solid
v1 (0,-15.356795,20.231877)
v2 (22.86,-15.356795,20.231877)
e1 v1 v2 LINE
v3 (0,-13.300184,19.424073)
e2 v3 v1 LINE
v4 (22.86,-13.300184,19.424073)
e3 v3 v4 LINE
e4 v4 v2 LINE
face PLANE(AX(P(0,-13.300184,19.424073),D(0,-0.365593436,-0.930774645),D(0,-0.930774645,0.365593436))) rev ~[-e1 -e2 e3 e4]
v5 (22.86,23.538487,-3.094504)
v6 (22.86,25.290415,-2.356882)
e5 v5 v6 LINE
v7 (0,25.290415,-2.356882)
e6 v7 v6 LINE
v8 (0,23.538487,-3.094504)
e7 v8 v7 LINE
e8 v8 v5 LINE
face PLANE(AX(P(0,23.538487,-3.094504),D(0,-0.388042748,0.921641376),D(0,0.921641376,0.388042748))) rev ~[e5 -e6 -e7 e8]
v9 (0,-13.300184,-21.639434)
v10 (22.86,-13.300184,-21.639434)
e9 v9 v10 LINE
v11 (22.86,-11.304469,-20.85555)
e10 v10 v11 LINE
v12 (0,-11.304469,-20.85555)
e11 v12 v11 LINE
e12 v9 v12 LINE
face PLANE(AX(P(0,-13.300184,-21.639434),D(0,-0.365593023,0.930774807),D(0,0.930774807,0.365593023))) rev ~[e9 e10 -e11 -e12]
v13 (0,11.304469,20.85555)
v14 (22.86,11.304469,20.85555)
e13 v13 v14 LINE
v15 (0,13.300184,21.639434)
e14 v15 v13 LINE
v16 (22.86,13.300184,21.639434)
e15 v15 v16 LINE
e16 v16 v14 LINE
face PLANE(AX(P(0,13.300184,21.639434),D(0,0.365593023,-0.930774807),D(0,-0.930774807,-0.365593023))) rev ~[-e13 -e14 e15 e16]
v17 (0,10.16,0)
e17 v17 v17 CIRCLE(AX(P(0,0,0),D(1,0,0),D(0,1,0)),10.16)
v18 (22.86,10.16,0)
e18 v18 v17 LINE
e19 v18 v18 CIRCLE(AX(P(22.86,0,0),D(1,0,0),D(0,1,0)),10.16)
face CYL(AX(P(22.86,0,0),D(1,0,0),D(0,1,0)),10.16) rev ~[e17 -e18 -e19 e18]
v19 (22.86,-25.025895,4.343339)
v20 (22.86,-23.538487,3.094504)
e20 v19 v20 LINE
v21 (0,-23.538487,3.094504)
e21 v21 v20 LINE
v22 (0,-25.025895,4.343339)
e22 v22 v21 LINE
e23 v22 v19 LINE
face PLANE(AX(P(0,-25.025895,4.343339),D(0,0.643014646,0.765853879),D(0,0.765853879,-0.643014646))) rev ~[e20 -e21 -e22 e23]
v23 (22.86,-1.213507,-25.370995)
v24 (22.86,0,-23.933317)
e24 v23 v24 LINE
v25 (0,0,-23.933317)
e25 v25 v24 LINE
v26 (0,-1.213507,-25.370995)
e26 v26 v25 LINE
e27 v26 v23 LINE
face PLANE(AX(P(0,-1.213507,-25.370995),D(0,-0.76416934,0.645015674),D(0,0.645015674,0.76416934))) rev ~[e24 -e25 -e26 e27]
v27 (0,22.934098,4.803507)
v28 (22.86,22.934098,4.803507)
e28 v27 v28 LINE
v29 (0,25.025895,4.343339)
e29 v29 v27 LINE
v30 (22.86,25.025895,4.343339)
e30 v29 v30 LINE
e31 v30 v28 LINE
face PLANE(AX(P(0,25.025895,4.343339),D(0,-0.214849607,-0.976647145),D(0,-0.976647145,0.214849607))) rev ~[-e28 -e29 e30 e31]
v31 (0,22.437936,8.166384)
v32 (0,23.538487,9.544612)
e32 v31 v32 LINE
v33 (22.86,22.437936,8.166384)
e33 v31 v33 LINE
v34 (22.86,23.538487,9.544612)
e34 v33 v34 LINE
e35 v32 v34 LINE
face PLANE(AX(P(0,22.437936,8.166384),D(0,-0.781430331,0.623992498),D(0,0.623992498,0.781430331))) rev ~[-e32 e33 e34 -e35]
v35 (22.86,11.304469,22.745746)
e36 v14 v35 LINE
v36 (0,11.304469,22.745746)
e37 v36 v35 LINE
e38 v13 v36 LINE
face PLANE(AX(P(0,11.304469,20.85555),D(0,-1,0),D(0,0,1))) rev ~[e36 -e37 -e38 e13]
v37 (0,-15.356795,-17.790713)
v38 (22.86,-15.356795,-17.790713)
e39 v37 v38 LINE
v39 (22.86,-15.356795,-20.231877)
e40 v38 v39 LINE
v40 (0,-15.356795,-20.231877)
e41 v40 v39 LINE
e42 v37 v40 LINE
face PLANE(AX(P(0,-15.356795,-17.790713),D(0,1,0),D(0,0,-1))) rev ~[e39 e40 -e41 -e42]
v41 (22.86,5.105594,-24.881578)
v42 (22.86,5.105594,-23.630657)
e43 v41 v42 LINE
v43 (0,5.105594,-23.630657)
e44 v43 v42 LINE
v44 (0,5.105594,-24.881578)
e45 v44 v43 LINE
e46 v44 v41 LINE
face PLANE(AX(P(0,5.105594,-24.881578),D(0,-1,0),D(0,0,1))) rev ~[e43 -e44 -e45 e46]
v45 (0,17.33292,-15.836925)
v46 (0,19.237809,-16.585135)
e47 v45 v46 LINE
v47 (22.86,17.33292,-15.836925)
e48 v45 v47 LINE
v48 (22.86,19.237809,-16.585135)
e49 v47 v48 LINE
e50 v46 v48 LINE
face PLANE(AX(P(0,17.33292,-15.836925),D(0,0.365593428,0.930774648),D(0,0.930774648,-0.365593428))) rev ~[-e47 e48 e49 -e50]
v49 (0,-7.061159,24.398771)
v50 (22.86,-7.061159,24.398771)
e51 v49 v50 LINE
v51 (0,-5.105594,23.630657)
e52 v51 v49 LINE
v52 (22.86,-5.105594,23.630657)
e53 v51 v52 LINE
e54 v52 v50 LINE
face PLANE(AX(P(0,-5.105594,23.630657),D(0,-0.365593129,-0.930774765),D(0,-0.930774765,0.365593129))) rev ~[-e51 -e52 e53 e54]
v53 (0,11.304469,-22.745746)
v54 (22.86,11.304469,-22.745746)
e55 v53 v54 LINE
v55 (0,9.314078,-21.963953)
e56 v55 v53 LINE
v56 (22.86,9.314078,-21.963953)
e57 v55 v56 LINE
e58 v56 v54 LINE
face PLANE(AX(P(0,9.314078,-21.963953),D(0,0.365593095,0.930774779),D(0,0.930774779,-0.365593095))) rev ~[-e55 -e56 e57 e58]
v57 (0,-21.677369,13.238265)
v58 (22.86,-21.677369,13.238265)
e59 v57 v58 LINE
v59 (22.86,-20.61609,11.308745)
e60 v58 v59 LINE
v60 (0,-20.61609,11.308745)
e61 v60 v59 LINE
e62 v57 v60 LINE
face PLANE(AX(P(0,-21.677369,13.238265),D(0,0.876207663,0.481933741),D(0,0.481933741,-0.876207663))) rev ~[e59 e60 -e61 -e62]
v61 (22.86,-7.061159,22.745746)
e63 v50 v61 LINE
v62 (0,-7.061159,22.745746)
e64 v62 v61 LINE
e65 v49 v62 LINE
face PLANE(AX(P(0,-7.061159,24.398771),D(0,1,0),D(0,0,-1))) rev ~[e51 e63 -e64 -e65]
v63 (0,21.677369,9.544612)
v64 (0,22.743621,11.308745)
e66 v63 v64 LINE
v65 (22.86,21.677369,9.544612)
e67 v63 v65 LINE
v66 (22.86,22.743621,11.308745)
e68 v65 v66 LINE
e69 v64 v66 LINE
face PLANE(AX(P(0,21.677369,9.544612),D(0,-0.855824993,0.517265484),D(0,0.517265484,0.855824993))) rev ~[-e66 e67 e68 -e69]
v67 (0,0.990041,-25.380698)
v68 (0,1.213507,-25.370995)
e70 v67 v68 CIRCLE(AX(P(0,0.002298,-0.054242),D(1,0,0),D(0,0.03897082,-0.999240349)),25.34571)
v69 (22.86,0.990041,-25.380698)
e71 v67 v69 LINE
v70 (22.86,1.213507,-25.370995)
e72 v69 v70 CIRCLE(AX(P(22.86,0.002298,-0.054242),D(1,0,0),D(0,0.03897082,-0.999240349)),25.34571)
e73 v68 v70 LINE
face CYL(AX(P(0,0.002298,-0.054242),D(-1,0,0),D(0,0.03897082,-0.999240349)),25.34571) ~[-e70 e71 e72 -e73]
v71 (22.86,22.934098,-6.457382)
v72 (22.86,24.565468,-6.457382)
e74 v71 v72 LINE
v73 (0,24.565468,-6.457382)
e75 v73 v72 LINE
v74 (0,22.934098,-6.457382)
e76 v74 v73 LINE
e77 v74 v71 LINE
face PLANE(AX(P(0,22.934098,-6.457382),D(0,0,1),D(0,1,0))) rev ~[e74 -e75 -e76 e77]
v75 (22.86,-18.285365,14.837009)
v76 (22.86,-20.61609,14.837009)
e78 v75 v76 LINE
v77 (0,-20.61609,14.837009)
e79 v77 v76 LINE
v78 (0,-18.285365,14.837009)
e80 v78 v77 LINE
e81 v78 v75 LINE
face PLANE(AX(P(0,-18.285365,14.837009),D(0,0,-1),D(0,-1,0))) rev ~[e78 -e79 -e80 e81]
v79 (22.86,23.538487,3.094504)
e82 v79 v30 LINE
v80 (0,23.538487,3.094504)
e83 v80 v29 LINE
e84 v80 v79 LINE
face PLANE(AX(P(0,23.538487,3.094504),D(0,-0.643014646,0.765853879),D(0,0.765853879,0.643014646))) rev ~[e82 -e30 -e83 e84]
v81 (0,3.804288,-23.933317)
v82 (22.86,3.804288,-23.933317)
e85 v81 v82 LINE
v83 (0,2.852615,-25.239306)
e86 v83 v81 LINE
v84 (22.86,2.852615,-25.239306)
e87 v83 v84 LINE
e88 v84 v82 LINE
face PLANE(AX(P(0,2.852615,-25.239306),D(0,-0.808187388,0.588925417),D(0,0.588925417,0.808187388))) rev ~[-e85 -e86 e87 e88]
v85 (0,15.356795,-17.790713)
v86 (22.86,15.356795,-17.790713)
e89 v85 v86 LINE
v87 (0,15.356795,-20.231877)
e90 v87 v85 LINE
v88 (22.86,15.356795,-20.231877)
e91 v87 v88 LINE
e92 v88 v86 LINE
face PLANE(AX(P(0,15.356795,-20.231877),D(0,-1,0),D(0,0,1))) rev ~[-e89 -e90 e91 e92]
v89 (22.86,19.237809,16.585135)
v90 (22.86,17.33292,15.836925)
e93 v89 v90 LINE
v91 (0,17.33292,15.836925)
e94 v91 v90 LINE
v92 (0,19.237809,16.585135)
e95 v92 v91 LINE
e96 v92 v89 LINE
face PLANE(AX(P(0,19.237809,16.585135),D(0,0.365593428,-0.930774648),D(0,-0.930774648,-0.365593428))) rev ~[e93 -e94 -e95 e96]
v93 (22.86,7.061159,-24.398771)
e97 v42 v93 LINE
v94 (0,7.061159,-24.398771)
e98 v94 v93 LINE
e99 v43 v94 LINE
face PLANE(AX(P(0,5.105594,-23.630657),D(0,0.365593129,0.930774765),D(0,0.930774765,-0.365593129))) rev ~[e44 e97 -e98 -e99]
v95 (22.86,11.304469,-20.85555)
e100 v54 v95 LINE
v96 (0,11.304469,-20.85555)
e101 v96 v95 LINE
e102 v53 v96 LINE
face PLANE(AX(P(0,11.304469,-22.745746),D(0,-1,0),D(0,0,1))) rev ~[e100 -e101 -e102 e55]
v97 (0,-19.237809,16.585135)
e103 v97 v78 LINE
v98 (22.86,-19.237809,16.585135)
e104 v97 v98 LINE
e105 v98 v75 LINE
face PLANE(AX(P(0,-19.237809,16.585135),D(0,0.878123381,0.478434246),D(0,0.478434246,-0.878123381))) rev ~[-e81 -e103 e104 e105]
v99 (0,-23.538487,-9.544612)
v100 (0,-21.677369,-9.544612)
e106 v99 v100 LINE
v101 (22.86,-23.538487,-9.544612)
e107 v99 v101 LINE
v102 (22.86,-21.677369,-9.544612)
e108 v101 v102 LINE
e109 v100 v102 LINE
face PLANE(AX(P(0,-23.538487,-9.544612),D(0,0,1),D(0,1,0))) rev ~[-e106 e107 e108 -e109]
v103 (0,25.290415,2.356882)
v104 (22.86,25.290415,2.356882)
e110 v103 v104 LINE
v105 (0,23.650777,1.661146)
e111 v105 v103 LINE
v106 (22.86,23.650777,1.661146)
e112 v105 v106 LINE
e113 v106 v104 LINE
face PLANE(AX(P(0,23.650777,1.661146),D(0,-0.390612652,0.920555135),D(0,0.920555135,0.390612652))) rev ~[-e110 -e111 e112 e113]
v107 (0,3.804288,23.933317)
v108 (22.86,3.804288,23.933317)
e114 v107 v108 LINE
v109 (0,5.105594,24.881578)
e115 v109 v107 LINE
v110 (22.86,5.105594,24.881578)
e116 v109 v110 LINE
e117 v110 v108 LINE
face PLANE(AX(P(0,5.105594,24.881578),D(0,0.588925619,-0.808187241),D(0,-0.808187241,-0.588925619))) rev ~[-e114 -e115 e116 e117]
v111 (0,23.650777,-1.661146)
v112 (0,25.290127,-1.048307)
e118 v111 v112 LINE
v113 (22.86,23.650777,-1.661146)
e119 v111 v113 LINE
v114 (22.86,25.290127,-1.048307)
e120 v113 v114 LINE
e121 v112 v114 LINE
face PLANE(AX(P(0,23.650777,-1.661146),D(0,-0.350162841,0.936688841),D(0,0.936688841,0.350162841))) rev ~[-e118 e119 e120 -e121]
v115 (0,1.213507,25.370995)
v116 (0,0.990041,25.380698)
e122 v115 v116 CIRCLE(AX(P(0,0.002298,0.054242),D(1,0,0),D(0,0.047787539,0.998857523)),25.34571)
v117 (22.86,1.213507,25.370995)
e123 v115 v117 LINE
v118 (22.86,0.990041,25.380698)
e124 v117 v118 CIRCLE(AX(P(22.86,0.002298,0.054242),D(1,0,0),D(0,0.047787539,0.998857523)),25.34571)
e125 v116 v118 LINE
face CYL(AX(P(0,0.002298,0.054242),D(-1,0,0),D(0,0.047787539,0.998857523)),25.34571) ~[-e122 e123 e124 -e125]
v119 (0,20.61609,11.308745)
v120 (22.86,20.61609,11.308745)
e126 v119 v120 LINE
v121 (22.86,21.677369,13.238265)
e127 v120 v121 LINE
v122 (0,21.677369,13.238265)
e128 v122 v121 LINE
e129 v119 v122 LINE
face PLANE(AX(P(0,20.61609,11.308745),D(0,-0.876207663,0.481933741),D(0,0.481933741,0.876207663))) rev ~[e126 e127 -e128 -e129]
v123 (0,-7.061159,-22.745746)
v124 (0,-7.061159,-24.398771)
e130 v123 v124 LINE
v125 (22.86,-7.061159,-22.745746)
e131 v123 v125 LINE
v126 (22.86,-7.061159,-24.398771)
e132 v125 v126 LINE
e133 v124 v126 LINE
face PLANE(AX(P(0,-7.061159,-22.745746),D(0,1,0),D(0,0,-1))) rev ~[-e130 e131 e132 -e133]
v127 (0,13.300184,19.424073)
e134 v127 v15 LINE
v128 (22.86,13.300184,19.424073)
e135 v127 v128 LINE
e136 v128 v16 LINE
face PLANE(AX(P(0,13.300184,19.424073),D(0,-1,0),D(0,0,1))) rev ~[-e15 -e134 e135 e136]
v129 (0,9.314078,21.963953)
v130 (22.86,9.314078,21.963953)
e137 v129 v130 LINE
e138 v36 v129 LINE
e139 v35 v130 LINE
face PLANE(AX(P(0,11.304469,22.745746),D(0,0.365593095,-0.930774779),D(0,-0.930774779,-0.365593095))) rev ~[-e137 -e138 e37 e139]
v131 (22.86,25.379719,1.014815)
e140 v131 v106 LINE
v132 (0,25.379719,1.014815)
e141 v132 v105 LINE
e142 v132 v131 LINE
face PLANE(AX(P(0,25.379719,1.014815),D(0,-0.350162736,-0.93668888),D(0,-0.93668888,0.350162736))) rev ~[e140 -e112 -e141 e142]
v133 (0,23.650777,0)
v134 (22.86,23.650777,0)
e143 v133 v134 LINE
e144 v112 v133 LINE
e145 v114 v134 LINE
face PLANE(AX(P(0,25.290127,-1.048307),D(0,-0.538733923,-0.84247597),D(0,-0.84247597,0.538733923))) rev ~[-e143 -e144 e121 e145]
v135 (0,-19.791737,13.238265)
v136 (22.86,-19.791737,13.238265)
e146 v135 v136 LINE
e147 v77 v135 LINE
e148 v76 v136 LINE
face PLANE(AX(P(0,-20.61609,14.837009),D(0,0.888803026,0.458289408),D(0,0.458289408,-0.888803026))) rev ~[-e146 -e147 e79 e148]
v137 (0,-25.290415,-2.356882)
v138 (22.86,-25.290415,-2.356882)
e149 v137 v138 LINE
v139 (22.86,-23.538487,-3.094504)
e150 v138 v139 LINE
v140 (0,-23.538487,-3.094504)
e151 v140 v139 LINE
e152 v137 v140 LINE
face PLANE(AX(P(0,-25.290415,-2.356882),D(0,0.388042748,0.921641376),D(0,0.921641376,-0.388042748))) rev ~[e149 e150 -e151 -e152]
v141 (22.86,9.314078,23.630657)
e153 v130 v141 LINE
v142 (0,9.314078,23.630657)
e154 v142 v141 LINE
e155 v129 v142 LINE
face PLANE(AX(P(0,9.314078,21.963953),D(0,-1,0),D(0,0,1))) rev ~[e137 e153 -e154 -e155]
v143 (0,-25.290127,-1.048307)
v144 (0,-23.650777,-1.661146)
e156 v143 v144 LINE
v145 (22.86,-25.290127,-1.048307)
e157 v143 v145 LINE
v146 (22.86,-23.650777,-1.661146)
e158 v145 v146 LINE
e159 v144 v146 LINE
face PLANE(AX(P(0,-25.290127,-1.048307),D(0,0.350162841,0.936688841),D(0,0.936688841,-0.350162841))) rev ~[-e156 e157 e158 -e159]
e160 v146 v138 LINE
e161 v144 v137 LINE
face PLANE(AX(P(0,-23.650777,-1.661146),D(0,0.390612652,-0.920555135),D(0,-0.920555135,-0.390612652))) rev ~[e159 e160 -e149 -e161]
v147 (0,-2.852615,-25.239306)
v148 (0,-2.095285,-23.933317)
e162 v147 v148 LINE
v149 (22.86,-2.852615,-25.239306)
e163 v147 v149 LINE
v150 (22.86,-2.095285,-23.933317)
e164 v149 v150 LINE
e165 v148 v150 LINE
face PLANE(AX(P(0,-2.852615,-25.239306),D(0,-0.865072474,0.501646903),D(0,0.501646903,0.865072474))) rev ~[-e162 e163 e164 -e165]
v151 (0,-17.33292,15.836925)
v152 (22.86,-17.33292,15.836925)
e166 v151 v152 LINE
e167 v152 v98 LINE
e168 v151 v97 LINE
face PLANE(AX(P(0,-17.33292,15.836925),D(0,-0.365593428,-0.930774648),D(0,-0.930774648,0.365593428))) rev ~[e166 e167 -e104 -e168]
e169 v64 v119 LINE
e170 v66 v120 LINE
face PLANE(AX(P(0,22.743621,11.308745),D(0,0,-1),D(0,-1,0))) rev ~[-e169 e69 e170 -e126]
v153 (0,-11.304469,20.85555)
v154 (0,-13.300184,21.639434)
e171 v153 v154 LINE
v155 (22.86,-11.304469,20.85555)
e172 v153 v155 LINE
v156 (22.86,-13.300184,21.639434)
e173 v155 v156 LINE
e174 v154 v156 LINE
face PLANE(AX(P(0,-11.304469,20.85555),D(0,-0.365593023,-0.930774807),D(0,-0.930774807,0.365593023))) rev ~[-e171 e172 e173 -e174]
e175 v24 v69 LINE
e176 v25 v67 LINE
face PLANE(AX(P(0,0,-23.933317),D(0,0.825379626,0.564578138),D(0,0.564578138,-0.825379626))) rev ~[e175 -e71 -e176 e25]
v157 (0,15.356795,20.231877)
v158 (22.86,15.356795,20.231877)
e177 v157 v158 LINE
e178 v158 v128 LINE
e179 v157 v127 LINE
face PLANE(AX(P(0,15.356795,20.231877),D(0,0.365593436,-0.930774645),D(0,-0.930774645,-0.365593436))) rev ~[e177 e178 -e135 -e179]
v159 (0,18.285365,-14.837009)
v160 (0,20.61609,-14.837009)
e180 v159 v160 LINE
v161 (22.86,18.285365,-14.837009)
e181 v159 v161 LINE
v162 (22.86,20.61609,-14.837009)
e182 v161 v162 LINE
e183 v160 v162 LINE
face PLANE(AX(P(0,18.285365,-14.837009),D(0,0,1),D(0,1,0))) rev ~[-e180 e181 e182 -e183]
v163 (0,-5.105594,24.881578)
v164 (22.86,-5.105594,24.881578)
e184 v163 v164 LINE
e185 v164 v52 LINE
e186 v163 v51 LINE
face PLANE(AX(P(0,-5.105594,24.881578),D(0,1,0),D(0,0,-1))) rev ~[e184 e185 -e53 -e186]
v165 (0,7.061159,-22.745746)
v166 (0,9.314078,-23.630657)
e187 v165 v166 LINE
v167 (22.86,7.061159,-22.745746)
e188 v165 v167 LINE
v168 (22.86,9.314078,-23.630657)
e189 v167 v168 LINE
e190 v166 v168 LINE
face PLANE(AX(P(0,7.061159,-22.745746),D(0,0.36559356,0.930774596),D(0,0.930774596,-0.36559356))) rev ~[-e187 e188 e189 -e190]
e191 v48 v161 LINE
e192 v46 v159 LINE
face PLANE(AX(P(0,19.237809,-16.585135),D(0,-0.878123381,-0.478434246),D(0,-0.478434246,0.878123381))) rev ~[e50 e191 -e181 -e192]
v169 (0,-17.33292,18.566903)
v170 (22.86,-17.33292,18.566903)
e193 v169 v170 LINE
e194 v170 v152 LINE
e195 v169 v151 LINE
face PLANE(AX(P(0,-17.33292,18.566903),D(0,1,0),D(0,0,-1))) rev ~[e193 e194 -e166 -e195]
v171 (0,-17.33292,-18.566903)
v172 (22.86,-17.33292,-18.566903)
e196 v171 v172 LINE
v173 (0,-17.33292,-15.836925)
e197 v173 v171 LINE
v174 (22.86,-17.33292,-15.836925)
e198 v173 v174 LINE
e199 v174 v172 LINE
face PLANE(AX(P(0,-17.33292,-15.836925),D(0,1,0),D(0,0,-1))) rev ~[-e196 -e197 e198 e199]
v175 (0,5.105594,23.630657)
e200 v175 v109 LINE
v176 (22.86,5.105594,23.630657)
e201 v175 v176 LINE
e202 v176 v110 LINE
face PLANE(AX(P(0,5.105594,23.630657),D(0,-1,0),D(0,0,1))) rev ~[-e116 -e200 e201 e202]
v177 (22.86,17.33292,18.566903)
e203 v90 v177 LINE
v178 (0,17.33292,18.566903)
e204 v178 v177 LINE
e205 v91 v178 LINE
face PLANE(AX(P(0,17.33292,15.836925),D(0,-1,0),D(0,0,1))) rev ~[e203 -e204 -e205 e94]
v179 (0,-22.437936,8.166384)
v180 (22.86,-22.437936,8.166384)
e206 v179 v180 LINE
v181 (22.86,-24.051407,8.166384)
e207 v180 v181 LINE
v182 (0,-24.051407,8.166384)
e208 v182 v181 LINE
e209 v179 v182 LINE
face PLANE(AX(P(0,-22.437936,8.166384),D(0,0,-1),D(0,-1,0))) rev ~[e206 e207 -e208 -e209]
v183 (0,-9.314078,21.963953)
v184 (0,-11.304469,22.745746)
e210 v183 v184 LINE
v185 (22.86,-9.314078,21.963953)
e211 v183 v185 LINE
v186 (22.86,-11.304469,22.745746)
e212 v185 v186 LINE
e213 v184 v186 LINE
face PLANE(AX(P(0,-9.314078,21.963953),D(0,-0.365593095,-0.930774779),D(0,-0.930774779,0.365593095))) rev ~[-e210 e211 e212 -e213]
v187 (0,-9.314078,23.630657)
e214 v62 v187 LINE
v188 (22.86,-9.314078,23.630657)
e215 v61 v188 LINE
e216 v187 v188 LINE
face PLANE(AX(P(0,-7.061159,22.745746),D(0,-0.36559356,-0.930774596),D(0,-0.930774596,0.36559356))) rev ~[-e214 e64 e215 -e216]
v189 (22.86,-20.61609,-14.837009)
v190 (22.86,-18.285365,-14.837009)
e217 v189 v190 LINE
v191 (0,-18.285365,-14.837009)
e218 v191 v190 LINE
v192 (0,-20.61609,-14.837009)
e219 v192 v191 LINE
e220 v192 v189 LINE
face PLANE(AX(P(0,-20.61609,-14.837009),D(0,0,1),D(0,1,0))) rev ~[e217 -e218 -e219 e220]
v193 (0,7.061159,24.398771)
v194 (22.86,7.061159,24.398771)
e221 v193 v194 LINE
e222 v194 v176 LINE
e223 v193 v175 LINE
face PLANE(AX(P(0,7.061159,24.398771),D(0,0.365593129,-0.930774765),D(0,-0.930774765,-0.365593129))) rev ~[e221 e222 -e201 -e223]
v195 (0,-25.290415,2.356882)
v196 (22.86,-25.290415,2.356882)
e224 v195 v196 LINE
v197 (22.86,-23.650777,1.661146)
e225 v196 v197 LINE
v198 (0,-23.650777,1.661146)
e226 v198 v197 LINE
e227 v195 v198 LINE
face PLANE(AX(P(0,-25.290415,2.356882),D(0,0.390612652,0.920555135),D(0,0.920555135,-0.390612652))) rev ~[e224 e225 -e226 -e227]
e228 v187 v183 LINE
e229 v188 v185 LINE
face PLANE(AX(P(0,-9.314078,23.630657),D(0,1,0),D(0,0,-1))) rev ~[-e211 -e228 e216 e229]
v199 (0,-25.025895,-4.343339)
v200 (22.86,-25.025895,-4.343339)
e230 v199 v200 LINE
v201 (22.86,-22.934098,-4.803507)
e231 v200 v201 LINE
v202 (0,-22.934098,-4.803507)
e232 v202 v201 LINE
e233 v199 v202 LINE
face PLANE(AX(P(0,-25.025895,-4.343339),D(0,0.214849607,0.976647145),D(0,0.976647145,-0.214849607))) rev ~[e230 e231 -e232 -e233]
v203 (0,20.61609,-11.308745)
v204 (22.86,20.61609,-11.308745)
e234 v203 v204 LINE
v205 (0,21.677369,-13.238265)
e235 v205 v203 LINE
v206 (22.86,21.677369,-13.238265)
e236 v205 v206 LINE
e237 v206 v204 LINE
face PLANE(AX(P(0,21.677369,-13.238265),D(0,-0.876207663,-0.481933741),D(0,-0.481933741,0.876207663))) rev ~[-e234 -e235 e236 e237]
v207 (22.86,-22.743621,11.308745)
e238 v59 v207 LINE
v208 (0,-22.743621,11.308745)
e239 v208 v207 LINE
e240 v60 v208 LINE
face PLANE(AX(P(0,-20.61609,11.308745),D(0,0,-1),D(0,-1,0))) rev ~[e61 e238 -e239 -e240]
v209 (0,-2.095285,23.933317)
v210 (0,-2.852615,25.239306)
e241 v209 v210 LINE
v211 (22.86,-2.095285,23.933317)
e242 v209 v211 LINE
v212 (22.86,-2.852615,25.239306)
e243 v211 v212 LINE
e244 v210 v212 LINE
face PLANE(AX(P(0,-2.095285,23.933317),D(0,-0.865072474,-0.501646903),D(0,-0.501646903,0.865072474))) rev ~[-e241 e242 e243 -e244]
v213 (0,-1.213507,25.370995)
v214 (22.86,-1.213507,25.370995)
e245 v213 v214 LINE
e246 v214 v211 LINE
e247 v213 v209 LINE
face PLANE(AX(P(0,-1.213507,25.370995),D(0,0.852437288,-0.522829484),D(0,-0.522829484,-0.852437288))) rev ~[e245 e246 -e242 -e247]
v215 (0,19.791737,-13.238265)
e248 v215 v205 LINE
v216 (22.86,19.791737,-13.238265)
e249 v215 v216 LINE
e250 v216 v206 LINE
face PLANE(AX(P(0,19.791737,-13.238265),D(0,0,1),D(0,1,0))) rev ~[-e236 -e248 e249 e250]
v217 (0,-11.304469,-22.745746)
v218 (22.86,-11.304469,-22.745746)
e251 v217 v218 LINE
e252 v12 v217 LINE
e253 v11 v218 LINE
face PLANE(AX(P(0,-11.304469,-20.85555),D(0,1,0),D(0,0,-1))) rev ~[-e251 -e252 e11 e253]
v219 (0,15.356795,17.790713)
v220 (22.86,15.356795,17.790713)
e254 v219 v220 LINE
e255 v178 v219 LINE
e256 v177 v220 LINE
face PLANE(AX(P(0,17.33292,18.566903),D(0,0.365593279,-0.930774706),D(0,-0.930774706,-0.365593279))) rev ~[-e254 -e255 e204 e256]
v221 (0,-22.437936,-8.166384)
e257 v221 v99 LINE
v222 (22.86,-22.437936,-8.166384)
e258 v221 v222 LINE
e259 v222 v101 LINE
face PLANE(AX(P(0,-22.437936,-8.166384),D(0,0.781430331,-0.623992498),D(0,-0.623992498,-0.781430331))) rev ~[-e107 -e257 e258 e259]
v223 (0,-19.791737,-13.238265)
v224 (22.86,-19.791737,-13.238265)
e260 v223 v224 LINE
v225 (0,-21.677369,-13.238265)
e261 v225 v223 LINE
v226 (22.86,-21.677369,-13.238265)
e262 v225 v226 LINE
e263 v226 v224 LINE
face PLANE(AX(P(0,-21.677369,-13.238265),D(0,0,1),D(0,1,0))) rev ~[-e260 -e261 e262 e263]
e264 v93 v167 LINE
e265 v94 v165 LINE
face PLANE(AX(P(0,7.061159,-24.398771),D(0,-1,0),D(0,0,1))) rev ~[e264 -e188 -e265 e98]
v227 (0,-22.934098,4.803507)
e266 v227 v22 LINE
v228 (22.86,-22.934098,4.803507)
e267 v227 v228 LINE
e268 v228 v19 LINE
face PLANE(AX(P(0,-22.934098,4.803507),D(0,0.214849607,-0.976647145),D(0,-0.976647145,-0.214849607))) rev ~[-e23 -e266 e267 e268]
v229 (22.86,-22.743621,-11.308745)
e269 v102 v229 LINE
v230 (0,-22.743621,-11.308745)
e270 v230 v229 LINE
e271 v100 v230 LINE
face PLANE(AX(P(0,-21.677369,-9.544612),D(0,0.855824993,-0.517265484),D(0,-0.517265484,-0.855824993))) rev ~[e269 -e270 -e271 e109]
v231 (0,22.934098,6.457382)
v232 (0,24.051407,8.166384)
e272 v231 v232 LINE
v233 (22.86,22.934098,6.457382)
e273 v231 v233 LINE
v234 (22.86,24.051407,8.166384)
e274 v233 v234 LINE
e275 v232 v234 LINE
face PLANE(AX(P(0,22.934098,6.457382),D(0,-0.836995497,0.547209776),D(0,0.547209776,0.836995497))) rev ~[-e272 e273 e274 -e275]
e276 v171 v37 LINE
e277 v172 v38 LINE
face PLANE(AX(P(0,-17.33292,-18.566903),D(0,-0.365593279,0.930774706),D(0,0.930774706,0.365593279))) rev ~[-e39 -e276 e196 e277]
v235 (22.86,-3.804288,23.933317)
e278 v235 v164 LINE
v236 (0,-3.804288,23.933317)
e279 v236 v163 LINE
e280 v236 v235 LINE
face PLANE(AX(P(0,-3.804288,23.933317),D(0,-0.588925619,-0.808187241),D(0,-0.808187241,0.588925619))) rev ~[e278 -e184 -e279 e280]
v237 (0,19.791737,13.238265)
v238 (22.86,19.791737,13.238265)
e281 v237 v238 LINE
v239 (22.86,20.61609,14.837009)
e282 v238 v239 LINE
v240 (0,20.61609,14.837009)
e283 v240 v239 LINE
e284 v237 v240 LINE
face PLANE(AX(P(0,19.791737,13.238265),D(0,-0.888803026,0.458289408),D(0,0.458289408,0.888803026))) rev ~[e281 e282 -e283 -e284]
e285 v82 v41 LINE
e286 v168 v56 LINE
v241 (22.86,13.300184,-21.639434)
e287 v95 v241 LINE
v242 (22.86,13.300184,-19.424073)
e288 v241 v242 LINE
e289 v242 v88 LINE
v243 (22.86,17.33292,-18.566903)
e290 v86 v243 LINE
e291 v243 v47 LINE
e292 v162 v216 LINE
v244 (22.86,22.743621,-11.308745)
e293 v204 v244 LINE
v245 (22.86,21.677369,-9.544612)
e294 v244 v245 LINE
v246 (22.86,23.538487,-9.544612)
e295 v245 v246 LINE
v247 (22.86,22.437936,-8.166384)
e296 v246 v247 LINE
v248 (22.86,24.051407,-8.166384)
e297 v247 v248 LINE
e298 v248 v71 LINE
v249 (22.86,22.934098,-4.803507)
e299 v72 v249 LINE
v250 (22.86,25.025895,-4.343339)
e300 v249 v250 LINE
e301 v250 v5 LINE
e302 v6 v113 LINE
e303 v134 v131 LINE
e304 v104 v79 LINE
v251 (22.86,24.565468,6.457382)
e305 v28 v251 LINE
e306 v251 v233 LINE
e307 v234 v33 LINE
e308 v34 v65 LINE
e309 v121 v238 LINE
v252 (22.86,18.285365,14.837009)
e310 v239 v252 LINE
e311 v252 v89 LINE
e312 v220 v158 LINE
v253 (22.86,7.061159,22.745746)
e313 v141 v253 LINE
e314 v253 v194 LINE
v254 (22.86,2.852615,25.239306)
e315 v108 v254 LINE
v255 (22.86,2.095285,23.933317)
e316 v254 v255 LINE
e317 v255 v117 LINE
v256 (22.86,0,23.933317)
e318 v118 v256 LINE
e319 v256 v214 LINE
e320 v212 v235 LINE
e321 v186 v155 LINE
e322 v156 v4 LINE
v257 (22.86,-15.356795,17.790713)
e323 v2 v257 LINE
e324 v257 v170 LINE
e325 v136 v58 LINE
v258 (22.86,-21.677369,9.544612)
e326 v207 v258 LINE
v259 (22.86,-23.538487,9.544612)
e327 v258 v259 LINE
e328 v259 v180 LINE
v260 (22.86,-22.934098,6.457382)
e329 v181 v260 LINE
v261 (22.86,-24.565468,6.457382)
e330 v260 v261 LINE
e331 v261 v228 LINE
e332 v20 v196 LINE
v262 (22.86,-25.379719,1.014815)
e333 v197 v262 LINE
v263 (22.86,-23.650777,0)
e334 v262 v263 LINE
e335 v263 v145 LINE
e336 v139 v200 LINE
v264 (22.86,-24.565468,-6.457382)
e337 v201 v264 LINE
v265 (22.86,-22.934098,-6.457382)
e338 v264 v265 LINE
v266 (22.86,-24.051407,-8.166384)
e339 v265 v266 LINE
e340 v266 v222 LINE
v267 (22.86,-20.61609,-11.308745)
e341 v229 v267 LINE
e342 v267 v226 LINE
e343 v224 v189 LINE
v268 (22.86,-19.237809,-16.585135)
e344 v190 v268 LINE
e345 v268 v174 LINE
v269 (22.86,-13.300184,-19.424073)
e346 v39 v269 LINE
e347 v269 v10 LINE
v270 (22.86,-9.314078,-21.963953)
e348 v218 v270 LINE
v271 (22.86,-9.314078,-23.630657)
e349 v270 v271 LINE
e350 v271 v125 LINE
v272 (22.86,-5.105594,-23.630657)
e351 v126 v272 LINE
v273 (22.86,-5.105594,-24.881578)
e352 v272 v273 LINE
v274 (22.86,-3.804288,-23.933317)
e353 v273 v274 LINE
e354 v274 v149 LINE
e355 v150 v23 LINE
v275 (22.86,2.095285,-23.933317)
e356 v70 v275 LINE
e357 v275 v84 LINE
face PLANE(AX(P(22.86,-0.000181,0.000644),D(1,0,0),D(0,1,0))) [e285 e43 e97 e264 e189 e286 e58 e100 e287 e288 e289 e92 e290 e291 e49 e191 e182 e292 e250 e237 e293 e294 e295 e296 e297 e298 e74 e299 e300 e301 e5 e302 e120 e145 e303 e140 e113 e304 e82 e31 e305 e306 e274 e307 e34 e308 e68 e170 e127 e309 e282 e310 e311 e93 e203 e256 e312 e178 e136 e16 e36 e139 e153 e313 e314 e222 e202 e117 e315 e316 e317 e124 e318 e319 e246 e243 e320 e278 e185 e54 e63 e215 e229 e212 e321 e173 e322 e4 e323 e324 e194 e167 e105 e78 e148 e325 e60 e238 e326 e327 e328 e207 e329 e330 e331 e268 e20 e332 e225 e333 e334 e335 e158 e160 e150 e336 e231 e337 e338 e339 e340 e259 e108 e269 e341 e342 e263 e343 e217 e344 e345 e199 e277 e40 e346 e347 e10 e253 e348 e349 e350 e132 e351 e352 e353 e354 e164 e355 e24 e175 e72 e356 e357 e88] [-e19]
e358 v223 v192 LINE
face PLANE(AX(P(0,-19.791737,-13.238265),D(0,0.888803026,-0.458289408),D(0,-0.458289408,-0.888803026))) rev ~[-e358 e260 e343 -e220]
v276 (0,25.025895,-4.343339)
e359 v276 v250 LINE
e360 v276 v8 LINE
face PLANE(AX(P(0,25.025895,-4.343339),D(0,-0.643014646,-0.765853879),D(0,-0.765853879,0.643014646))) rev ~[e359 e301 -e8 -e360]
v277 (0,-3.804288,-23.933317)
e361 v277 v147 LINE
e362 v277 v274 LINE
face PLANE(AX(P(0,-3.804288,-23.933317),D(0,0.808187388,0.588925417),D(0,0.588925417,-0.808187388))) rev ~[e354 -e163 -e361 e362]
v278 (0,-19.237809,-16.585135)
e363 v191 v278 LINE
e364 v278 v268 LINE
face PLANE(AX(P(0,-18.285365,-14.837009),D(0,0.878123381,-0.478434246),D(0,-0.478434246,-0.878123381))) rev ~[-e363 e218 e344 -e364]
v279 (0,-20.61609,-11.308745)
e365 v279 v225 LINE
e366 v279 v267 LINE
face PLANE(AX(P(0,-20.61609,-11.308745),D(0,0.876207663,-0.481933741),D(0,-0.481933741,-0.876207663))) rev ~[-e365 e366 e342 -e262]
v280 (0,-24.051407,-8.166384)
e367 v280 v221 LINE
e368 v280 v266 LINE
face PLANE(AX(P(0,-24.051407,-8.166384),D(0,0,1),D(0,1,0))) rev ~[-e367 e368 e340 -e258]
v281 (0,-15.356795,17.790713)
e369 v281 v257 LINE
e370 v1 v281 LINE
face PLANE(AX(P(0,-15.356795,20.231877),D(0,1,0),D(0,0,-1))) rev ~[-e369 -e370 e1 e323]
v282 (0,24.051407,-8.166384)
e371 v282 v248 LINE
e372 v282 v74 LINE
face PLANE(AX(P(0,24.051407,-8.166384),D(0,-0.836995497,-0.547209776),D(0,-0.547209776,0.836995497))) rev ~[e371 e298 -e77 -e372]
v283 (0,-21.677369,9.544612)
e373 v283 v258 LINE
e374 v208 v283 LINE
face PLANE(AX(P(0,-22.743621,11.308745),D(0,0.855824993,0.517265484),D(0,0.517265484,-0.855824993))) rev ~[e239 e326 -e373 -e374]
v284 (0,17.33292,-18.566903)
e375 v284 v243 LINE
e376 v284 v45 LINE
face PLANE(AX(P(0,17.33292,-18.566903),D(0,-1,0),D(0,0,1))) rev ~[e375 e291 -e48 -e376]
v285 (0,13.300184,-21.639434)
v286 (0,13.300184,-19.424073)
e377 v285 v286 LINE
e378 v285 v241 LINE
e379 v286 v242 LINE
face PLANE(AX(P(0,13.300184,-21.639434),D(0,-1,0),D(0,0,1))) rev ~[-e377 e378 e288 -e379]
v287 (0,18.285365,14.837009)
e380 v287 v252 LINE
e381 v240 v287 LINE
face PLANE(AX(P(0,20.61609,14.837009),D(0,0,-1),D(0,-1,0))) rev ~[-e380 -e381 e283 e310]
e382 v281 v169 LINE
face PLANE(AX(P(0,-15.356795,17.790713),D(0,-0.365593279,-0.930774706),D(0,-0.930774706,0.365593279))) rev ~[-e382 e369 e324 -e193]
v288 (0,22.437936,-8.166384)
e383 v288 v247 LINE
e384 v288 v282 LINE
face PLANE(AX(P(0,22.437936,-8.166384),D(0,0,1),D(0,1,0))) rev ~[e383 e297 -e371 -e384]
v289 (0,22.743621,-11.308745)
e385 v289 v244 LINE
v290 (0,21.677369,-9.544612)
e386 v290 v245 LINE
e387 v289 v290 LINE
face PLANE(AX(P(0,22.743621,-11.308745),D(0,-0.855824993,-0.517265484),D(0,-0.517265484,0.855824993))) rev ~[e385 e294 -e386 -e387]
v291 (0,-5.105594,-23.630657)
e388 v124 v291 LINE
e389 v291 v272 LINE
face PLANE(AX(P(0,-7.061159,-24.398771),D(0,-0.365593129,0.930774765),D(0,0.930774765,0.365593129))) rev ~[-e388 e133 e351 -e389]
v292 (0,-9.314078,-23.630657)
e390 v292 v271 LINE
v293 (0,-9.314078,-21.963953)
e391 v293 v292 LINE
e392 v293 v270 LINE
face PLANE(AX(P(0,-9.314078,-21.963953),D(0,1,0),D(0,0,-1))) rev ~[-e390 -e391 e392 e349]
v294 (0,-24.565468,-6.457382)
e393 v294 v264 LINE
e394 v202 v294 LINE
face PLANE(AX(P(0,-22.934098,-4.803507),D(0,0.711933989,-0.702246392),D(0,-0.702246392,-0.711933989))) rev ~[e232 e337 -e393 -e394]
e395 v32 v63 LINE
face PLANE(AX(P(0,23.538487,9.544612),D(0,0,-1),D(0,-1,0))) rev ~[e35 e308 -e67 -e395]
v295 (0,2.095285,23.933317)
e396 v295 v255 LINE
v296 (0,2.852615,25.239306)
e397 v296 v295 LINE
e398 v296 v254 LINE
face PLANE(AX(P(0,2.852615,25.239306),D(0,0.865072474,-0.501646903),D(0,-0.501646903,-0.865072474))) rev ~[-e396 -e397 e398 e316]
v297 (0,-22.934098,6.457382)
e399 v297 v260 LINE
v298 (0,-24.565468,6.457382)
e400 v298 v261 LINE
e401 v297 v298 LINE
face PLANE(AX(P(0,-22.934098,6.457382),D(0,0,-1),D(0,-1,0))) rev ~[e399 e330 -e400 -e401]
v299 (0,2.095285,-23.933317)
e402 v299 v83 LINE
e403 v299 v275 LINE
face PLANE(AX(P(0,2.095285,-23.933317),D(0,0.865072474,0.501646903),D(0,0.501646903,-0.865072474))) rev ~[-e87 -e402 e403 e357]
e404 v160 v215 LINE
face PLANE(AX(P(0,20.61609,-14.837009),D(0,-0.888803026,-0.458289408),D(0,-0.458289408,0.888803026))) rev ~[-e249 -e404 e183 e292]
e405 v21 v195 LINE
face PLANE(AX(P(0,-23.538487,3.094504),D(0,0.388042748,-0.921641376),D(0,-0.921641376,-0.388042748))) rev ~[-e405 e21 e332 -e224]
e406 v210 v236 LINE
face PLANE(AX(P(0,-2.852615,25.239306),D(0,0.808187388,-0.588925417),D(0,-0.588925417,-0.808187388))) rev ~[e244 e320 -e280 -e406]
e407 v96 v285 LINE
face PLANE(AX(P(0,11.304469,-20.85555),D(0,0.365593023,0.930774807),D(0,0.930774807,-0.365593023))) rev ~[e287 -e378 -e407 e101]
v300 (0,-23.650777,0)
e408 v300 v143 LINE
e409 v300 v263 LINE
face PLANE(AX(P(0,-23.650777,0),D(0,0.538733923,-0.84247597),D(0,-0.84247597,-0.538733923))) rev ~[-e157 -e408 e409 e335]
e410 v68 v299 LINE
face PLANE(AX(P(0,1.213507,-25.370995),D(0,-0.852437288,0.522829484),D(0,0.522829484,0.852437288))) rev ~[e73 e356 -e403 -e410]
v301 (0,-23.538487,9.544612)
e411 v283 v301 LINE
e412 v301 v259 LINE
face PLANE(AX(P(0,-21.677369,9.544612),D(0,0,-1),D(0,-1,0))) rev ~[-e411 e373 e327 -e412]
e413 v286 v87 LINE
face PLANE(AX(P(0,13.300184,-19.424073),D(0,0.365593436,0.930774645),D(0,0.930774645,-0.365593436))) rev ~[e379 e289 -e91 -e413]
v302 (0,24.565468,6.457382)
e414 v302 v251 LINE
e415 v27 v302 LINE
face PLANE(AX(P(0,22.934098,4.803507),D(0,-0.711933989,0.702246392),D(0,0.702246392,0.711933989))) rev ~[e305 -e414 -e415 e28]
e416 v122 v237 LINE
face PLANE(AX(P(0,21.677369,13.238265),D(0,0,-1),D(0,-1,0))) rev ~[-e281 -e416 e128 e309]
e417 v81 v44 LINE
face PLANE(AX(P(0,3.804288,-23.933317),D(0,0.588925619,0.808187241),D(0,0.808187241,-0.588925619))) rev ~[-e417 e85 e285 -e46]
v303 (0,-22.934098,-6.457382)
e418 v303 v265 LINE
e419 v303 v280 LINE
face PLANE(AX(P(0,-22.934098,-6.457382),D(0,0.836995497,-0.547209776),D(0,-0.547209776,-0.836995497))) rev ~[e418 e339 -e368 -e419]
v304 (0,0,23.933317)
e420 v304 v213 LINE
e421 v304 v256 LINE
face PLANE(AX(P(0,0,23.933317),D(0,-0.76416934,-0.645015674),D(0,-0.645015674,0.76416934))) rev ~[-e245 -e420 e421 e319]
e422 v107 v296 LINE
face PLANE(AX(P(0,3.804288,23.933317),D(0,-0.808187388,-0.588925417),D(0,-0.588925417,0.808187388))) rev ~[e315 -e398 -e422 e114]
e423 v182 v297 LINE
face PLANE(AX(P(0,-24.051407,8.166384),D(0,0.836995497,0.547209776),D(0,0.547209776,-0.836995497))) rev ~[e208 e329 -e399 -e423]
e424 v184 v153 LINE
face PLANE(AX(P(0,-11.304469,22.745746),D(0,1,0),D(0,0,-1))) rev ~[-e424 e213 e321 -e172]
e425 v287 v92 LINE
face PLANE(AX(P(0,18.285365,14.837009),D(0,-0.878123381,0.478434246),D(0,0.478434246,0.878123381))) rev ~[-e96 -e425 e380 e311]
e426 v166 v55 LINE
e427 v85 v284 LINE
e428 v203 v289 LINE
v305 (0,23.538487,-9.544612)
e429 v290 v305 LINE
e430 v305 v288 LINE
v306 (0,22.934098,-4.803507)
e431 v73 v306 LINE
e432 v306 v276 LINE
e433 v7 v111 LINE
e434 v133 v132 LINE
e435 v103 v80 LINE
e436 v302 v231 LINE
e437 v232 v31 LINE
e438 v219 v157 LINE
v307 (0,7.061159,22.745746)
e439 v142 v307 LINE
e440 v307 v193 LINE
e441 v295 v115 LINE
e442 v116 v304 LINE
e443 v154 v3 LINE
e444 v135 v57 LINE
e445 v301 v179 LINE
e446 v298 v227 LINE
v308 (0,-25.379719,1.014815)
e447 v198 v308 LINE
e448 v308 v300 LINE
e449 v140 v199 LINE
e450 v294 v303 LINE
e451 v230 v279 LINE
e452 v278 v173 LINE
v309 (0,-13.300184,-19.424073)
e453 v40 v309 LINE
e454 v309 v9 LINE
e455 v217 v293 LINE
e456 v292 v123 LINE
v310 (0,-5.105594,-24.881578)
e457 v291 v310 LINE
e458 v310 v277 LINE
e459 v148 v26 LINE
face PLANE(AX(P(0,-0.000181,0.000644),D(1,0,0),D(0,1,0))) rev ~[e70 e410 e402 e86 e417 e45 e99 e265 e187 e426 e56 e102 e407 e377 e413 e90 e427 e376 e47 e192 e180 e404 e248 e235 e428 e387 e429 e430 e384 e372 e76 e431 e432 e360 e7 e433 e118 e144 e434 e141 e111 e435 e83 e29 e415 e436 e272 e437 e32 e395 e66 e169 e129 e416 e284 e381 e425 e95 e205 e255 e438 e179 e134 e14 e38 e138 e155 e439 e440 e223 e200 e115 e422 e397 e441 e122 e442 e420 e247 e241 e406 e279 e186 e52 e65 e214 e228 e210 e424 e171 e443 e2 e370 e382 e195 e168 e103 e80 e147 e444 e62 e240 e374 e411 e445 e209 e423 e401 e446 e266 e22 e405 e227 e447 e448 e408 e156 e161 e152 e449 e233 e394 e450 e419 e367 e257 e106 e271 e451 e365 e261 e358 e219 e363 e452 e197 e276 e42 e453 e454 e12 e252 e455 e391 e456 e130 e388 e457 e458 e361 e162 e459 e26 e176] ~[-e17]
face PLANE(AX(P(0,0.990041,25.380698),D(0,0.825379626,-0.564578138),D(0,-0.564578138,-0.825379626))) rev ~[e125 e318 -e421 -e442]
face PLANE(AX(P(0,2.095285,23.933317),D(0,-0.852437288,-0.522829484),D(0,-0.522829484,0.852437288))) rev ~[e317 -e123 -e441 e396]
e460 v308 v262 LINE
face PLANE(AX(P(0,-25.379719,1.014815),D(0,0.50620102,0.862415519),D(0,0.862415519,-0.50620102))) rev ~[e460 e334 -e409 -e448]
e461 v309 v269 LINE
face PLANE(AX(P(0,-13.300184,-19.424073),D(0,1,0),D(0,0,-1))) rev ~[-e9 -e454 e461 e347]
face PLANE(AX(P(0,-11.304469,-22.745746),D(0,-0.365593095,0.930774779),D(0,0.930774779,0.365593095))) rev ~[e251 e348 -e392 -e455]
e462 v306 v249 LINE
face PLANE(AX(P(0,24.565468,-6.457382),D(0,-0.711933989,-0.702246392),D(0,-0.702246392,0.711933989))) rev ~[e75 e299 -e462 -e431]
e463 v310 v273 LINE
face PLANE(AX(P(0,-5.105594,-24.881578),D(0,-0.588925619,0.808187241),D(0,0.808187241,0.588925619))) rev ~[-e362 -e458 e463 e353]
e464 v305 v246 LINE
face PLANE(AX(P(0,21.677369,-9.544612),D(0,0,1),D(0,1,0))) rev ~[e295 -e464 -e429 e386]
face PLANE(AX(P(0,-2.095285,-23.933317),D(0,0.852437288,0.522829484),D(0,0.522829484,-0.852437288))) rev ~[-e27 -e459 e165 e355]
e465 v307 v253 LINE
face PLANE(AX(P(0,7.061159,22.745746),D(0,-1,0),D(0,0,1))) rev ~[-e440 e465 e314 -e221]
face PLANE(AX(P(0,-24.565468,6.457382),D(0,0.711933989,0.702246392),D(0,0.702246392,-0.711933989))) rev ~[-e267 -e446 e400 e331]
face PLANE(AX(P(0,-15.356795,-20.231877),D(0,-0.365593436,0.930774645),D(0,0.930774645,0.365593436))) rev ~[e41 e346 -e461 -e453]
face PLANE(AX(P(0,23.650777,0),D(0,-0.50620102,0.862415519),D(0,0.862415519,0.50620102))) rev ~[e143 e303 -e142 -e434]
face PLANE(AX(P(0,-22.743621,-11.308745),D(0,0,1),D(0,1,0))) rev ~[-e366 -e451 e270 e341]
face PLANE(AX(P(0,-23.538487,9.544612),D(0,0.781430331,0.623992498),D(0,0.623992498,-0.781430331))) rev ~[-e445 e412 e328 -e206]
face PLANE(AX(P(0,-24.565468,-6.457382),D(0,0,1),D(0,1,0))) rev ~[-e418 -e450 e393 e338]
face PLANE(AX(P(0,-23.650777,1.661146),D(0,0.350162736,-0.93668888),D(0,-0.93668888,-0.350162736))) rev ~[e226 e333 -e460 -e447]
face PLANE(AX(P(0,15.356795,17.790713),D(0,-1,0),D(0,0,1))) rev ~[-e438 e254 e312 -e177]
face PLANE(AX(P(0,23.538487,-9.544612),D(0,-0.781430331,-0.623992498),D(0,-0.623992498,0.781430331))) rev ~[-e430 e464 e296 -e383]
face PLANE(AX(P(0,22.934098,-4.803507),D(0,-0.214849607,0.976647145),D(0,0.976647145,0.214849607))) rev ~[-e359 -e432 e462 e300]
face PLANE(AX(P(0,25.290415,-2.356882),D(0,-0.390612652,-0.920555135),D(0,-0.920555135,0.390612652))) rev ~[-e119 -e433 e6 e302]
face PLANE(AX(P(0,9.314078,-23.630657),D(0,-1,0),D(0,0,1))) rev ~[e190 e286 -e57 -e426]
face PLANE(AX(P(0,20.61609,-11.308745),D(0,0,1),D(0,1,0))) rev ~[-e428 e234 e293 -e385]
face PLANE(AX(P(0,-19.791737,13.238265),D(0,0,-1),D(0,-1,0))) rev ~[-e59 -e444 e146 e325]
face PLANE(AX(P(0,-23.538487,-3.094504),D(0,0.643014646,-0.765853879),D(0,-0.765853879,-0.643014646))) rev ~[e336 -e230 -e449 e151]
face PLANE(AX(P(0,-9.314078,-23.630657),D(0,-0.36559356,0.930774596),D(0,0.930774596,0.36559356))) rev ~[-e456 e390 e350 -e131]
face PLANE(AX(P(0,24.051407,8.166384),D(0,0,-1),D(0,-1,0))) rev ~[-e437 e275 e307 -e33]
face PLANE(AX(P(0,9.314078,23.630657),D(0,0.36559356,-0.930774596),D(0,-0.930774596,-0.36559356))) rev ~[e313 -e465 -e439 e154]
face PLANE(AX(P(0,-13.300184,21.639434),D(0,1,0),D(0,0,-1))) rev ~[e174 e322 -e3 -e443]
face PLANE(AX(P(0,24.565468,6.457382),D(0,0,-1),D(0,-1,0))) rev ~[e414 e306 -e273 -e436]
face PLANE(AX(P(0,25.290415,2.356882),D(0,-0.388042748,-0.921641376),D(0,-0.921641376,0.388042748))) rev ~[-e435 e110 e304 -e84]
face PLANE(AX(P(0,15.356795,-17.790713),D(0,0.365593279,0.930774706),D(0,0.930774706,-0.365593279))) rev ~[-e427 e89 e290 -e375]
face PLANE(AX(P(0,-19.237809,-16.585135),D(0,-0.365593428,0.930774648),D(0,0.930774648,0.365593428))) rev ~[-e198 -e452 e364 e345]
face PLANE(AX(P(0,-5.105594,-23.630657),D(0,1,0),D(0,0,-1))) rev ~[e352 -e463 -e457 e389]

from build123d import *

# Parameters (mm, degrees)
F1_DEPTH = 22.86
F2_R     = 10.16
F3_DEPTH = 38.1


with BuildPart() as f1:
    # F0 (on Right) → F1 (new body)
    with BuildSketch(Plane.YZ):
        with BuildLine():
            Line((23.650777, 0), (25.379719, 1.014815))
            Line((25.379719, 1.014815), (23.650777, 1.661146))
            Line((23.650777, 1.661146), (25.290415, 2.356882))
            Line((25.290415, 2.356882), (23.538487, 3.094504))
            Line((23.538487, 3.094504), (25.025895, 4.343339))
            Line((25.025895, 4.343339), (22.934098, 4.803507))
            Line((22.934098, 4.803507), (24.565468, 6.457382))
            Line((24.565468, 6.457382), (22.934098, 6.457382))
            Line((22.934098, 6.457382), (24.051407, 8.166384))
            Line((24.051407, 8.166384), (22.437936, 8.166384))
            Line((22.437936, 8.166384), (23.538487, 9.544612))
            Line((23.538487, 9.544612), (21.677369, 9.544612))
            Line((21.677369, 9.544612), (22.743621, 11.308745))
            Line((22.743621, 11.308745), (20.61609, 11.308745))
            Line((20.61609, 11.308745), (21.677369, 13.238265))
            Line((21.677369, 13.238265), (19.791737, 13.238265))
            Line((19.791737, 13.238265), (20.61609, 14.837009))
            Line((20.61609, 14.837009), (18.285365, 14.837009))
            Line((18.285365, 14.837009), (19.237809, 16.585135))
            Line((19.237809, 16.585135), (17.33292, 15.836925))
            Line((17.33292, 15.836925), (17.33292, 18.566903))
            Line((17.33292, 18.566903), (15.356795, 17.790713))
            Line((15.356795, 17.790713), (15.356795, 20.231877))
            Line((15.356795, 20.231877), (13.300184, 19.424073))
            Line((13.300184, 19.424073), (13.300184, 21.639434))
            Line((13.300184, 21.639434), (11.304469, 20.85555))
            Line((11.304469, 20.85555), (11.304469, 22.745746))
            Line((11.304469, 22.745746), (9.314078, 21.963953))
            Line((9.314078, 21.963953), (9.314078, 23.630657))
            Line((9.314078, 23.630657), (7.061159, 22.745746))
            Line((7.061159, 22.745746), (7.061159, 24.398771))
            Line((7.061159, 24.398771), (5.105594, 23.630657))
            Line((5.105594, 23.630657), (5.105594, 24.881578))
            Line((5.105594, 24.881578), (3.804288, 23.933317))
            Line((3.804288, 23.933317), (2.852615, 25.239306))
            Line((2.852615, 25.239306), (2.095285, 23.933317))
            Line((2.095285, 23.933317), (1.213507, 25.370995))
            ThreePointArc((1.213507, 25.370995), (1.101785, 25.376093), (0.990041, 25.380698))
            Line((0.990041, 25.380698), (0, 23.933317))
            Line((0, 23.933317), (-1.213507, 25.370995))
            Line((-1.213507, 25.370995), (-2.095285, 23.933317))
            Line((-2.095285, 23.933317), (-2.852615, 25.239306))
            Line((-2.852615, 25.239306), (-3.804288, 23.933317))
            Line((-3.804288, 23.933317), (-5.105594, 24.881578))
            Line((-5.105594, 24.881578), (-5.105594, 23.630657))
            Line((-5.105594, 23.630657), (-7.061159, 24.398771))
            Line((-7.061159, 24.398771), (-7.061159, 22.745746))
            Line((-7.061159, 22.745746), (-9.314078, 23.630657))
            Line((-9.314078, 23.630657), (-9.314078, 21.963953))
            Line((-9.314078, 21.963953), (-11.304469, 22.745746))
            Line((-11.304469, 22.745746), (-11.304469, 20.85555))
            Line((-11.304469, 20.85555), (-13.300184, 21.639434))
            Line((-13.300184, 21.639434), (-13.300184, 19.424073))
            Line((-13.300184, 19.424073), (-15.356795, 20.231877))
            Line((-15.356795, 20.231877), (-15.356795, 17.790713))
            Line((-15.356795, 17.790713), (-17.33292, 18.566903))
            Line((-17.33292, 18.566903), (-17.33292, 15.836925))
            Line((-17.33292, 15.836925), (-19.237809, 16.585135))
            Line((-19.237809, 16.585135), (-18.285365, 14.837009))
            Line((-18.285365, 14.837009), (-20.61609, 14.837009))
            Line((-20.61609, 14.837009), (-19.791737, 13.238265))
            Line((-19.791737, 13.238265), (-21.677369, 13.238265))
            Line((-21.677369, 13.238265), (-20.61609, 11.308745))
            Line((-20.61609, 11.308745), (-22.743621, 11.308745))
            Line((-22.743621, 11.308745), (-21.677369, 9.544612))
            Line((-21.677369, 9.544612), (-23.538487, 9.544612))
            Line((-23.538487, 9.544612), (-22.437936, 8.166384))
            Line((-22.437936, 8.166384), (-24.051407, 8.166384))
            Line((-24.051407, 8.166384), (-22.934098, 6.457382))
            Line((-22.934098, 6.457382), (-24.565468, 6.457382))
            Line((-24.565468, 6.457382), (-22.934098, 4.803507))
            Line((-22.934098, 4.803507), (-25.025895, 4.343339))
            Line((-25.025895, 4.343339), (-23.538487, 3.094504))
            Line((-23.538487, 3.094504), (-25.290415, 2.356882))
            Line((-25.290415, 2.356882), (-23.650777, 1.661146))
            Line((-23.650777, 1.661146), (-25.379719, 1.014815))
            Line((-25.379719, 1.014815), (-23.650777, 0))
            Line((-23.650777, 0), (-25.290127, -1.048307))
            Line((-25.290127, -1.048307), (-23.650777, -1.661146))
            Line((-23.650777, -1.661146), (-25.290415, -2.356882))
            Line((-25.290415, -2.356882), (-23.538487, -3.094504))
            Line((-23.538487, -3.094504), (-25.025895, -4.343339))
            Line((-25.025895, -4.343339), (-22.934098, -4.803507))
            Line((-22.934098, -4.803507), (-24.565468, -6.457382))
            Line((-24.565468, -6.457382), (-22.934098, -6.457382))
            Line((-22.934098, -6.457382), (-24.051407, -8.166384))
            Line((-24.051407, -8.166384), (-22.437936, -8.166384))
            Line((-22.437936, -8.166384), (-23.538487, -9.544612))
            Line((-23.538487, -9.544612), (-21.677369, -9.544612))
            Line((-21.677369, -9.544612), (-22.743621, -11.308745))
            Line((-22.743621, -11.308745), (-20.61609, -11.308745))
            Line((-20.61609, -11.308745), (-21.677369, -13.238265))
            Line((-21.677369, -13.238265), (-19.791737, -13.238265))
            Line((-19.791737, -13.238265), (-20.61609, -14.837009))
            Line((-20.61609, -14.837009), (-18.285365, -14.837009))
            Line((-18.285365, -14.837009), (-19.237809, -16.585135))
            Line((-19.237809, -16.585135), (-17.33292, -15.836925))
            Line((-17.33292, -15.836925), (-17.33292, -18.566903))
            Line((-17.33292, -18.566903), (-15.356795, -17.790713))
            Line((-15.356795, -17.790713), (-15.356795, -20.231877))
            Line((-15.356795, -20.231877), (-13.300184, -19.424073))
            Line((-13.300184, -19.424073), (-13.300184, -21.639434))
            Line((-13.300184, -21.639434), (-11.304469, -20.85555))
            Line((-11.304469, -20.85555), (-11.304469, -22.745746))
            Line((-11.304469, -22.745746), (-9.314078, -21.963953))
            Line((-9.314078, -21.963953), (-9.314078, -23.630657))
            Line((-9.314078, -23.630657), (-7.061159, -22.745746))
            Line((-7.061159, -22.745746), (-7.061159, -24.398771))
            Line((-7.061159, -24.398771), (-5.105594, -23.630657))
            Line((-5.105594, -23.630657), (-5.105594, -24.881578))
            Line((-5.105594, -24.881578), (-3.804288, -23.933317))
            Line((-3.804288, -23.933317), (-2.852615, -25.239306))
            Line((-2.852615, -25.239306), (-2.095285, -23.933317))
            Line((-2.095285, -23.933317), (-1.213507, -25.370995))
            Line((-1.213507, -25.370995), (0, -23.933317))
            Line((0, -23.933317), (0.990041, -25.380698))
            ThreePointArc((0.990041, -25.380698), (1.101785, -25.376093), (1.213507, -25.370995))
            Line((1.213507, -25.370995), (2.095285, -23.933317))
            Line((2.095285, -23.933317), (2.852615, -25.239306))
            Line((2.852615, -25.239306), (3.804288, -23.933317))
            Line((3.804288, -23.933317), (5.105594, -24.881578))
            Line((5.105594, -24.881578), (5.105594, -23.630657))
            Line((5.105594, -23.630657), (7.061159, -24.398771))
            Line((7.061159, -24.398771), (7.061159, -22.745746))
            Line((7.061159, -22.745746), (9.314078, -23.630657))
            Line((9.314078, -23.630657), (9.314078, -21.963953))
            Line((9.314078, -21.963953), (11.304469, -22.745746))
            Line((11.304469, -22.745746), (11.304469, -20.85555))
            Line((11.304469, -20.85555), (13.300184, -21.639434))
            Line((13.300184, -21.639434), (13.300184, -19.424073))
            Line((13.300184, -19.424073), (15.356795, -20.231877))
            Line((15.356795, -20.231877), (15.356795, -17.790713))
            Line((15.356795, -17.790713), (17.33292, -18.566903))
            Line((17.33292, -18.566903), (17.33292, -15.836925))
            Line((17.33292, -15.836925), (19.237809, -16.585135))
            Line((19.237809, -16.585135), (18.285365, -14.837009))
            Line((18.285365, -14.837009), (20.61609, -14.837009))
            Line((20.61609, -14.837009), (19.791737, -13.238265))
            Line((19.791737, -13.238265), (21.677369, -13.238265))
            Line((21.677369, -13.238265), (20.61609, -11.308745))
            Line((20.61609, -11.308745), (22.743621, -11.308745))
            Line((22.743621, -11.308745), (21.677369, -9.544612))
            Line((21.677369, -9.544612), (23.538487, -9.544612))
            Line((23.538487, -9.544612), (22.437936, -8.166384))
            Line((22.437936, -8.166384), (24.051407, -8.166384))
            Line((24.051407, -8.166384), (22.934098, -6.457382))
            Line((22.934098, -6.457382), (24.565468, -6.457382))
            Line((24.565468, -6.457382), (22.934098, -4.803507))
            Line((22.934098, -4.803507), (25.025895, -4.343339))
            Line((25.025895, -4.343339), (23.538487, -3.094504))
            Line((23.538487, -3.094504), (25.290415, -2.356882))
            Line((25.290415, -2.356882), (23.650777, -1.661146))
            Line((23.650777, -1.661146), (25.290127, -1.048307))
            Line((25.290127, -1.048307), (23.650777, 0))
        make_face()
    extrude(amount=F1_DEPTH)

    # F2 (on face) → F3 (cut)
    with BuildSketch(Plane.YZ.offset(22.86)):
        Circle(F2_R)
    extrude(amount=-F3_DEPTH, mode=Mode.SUBTRACT)


solid = f1.part
